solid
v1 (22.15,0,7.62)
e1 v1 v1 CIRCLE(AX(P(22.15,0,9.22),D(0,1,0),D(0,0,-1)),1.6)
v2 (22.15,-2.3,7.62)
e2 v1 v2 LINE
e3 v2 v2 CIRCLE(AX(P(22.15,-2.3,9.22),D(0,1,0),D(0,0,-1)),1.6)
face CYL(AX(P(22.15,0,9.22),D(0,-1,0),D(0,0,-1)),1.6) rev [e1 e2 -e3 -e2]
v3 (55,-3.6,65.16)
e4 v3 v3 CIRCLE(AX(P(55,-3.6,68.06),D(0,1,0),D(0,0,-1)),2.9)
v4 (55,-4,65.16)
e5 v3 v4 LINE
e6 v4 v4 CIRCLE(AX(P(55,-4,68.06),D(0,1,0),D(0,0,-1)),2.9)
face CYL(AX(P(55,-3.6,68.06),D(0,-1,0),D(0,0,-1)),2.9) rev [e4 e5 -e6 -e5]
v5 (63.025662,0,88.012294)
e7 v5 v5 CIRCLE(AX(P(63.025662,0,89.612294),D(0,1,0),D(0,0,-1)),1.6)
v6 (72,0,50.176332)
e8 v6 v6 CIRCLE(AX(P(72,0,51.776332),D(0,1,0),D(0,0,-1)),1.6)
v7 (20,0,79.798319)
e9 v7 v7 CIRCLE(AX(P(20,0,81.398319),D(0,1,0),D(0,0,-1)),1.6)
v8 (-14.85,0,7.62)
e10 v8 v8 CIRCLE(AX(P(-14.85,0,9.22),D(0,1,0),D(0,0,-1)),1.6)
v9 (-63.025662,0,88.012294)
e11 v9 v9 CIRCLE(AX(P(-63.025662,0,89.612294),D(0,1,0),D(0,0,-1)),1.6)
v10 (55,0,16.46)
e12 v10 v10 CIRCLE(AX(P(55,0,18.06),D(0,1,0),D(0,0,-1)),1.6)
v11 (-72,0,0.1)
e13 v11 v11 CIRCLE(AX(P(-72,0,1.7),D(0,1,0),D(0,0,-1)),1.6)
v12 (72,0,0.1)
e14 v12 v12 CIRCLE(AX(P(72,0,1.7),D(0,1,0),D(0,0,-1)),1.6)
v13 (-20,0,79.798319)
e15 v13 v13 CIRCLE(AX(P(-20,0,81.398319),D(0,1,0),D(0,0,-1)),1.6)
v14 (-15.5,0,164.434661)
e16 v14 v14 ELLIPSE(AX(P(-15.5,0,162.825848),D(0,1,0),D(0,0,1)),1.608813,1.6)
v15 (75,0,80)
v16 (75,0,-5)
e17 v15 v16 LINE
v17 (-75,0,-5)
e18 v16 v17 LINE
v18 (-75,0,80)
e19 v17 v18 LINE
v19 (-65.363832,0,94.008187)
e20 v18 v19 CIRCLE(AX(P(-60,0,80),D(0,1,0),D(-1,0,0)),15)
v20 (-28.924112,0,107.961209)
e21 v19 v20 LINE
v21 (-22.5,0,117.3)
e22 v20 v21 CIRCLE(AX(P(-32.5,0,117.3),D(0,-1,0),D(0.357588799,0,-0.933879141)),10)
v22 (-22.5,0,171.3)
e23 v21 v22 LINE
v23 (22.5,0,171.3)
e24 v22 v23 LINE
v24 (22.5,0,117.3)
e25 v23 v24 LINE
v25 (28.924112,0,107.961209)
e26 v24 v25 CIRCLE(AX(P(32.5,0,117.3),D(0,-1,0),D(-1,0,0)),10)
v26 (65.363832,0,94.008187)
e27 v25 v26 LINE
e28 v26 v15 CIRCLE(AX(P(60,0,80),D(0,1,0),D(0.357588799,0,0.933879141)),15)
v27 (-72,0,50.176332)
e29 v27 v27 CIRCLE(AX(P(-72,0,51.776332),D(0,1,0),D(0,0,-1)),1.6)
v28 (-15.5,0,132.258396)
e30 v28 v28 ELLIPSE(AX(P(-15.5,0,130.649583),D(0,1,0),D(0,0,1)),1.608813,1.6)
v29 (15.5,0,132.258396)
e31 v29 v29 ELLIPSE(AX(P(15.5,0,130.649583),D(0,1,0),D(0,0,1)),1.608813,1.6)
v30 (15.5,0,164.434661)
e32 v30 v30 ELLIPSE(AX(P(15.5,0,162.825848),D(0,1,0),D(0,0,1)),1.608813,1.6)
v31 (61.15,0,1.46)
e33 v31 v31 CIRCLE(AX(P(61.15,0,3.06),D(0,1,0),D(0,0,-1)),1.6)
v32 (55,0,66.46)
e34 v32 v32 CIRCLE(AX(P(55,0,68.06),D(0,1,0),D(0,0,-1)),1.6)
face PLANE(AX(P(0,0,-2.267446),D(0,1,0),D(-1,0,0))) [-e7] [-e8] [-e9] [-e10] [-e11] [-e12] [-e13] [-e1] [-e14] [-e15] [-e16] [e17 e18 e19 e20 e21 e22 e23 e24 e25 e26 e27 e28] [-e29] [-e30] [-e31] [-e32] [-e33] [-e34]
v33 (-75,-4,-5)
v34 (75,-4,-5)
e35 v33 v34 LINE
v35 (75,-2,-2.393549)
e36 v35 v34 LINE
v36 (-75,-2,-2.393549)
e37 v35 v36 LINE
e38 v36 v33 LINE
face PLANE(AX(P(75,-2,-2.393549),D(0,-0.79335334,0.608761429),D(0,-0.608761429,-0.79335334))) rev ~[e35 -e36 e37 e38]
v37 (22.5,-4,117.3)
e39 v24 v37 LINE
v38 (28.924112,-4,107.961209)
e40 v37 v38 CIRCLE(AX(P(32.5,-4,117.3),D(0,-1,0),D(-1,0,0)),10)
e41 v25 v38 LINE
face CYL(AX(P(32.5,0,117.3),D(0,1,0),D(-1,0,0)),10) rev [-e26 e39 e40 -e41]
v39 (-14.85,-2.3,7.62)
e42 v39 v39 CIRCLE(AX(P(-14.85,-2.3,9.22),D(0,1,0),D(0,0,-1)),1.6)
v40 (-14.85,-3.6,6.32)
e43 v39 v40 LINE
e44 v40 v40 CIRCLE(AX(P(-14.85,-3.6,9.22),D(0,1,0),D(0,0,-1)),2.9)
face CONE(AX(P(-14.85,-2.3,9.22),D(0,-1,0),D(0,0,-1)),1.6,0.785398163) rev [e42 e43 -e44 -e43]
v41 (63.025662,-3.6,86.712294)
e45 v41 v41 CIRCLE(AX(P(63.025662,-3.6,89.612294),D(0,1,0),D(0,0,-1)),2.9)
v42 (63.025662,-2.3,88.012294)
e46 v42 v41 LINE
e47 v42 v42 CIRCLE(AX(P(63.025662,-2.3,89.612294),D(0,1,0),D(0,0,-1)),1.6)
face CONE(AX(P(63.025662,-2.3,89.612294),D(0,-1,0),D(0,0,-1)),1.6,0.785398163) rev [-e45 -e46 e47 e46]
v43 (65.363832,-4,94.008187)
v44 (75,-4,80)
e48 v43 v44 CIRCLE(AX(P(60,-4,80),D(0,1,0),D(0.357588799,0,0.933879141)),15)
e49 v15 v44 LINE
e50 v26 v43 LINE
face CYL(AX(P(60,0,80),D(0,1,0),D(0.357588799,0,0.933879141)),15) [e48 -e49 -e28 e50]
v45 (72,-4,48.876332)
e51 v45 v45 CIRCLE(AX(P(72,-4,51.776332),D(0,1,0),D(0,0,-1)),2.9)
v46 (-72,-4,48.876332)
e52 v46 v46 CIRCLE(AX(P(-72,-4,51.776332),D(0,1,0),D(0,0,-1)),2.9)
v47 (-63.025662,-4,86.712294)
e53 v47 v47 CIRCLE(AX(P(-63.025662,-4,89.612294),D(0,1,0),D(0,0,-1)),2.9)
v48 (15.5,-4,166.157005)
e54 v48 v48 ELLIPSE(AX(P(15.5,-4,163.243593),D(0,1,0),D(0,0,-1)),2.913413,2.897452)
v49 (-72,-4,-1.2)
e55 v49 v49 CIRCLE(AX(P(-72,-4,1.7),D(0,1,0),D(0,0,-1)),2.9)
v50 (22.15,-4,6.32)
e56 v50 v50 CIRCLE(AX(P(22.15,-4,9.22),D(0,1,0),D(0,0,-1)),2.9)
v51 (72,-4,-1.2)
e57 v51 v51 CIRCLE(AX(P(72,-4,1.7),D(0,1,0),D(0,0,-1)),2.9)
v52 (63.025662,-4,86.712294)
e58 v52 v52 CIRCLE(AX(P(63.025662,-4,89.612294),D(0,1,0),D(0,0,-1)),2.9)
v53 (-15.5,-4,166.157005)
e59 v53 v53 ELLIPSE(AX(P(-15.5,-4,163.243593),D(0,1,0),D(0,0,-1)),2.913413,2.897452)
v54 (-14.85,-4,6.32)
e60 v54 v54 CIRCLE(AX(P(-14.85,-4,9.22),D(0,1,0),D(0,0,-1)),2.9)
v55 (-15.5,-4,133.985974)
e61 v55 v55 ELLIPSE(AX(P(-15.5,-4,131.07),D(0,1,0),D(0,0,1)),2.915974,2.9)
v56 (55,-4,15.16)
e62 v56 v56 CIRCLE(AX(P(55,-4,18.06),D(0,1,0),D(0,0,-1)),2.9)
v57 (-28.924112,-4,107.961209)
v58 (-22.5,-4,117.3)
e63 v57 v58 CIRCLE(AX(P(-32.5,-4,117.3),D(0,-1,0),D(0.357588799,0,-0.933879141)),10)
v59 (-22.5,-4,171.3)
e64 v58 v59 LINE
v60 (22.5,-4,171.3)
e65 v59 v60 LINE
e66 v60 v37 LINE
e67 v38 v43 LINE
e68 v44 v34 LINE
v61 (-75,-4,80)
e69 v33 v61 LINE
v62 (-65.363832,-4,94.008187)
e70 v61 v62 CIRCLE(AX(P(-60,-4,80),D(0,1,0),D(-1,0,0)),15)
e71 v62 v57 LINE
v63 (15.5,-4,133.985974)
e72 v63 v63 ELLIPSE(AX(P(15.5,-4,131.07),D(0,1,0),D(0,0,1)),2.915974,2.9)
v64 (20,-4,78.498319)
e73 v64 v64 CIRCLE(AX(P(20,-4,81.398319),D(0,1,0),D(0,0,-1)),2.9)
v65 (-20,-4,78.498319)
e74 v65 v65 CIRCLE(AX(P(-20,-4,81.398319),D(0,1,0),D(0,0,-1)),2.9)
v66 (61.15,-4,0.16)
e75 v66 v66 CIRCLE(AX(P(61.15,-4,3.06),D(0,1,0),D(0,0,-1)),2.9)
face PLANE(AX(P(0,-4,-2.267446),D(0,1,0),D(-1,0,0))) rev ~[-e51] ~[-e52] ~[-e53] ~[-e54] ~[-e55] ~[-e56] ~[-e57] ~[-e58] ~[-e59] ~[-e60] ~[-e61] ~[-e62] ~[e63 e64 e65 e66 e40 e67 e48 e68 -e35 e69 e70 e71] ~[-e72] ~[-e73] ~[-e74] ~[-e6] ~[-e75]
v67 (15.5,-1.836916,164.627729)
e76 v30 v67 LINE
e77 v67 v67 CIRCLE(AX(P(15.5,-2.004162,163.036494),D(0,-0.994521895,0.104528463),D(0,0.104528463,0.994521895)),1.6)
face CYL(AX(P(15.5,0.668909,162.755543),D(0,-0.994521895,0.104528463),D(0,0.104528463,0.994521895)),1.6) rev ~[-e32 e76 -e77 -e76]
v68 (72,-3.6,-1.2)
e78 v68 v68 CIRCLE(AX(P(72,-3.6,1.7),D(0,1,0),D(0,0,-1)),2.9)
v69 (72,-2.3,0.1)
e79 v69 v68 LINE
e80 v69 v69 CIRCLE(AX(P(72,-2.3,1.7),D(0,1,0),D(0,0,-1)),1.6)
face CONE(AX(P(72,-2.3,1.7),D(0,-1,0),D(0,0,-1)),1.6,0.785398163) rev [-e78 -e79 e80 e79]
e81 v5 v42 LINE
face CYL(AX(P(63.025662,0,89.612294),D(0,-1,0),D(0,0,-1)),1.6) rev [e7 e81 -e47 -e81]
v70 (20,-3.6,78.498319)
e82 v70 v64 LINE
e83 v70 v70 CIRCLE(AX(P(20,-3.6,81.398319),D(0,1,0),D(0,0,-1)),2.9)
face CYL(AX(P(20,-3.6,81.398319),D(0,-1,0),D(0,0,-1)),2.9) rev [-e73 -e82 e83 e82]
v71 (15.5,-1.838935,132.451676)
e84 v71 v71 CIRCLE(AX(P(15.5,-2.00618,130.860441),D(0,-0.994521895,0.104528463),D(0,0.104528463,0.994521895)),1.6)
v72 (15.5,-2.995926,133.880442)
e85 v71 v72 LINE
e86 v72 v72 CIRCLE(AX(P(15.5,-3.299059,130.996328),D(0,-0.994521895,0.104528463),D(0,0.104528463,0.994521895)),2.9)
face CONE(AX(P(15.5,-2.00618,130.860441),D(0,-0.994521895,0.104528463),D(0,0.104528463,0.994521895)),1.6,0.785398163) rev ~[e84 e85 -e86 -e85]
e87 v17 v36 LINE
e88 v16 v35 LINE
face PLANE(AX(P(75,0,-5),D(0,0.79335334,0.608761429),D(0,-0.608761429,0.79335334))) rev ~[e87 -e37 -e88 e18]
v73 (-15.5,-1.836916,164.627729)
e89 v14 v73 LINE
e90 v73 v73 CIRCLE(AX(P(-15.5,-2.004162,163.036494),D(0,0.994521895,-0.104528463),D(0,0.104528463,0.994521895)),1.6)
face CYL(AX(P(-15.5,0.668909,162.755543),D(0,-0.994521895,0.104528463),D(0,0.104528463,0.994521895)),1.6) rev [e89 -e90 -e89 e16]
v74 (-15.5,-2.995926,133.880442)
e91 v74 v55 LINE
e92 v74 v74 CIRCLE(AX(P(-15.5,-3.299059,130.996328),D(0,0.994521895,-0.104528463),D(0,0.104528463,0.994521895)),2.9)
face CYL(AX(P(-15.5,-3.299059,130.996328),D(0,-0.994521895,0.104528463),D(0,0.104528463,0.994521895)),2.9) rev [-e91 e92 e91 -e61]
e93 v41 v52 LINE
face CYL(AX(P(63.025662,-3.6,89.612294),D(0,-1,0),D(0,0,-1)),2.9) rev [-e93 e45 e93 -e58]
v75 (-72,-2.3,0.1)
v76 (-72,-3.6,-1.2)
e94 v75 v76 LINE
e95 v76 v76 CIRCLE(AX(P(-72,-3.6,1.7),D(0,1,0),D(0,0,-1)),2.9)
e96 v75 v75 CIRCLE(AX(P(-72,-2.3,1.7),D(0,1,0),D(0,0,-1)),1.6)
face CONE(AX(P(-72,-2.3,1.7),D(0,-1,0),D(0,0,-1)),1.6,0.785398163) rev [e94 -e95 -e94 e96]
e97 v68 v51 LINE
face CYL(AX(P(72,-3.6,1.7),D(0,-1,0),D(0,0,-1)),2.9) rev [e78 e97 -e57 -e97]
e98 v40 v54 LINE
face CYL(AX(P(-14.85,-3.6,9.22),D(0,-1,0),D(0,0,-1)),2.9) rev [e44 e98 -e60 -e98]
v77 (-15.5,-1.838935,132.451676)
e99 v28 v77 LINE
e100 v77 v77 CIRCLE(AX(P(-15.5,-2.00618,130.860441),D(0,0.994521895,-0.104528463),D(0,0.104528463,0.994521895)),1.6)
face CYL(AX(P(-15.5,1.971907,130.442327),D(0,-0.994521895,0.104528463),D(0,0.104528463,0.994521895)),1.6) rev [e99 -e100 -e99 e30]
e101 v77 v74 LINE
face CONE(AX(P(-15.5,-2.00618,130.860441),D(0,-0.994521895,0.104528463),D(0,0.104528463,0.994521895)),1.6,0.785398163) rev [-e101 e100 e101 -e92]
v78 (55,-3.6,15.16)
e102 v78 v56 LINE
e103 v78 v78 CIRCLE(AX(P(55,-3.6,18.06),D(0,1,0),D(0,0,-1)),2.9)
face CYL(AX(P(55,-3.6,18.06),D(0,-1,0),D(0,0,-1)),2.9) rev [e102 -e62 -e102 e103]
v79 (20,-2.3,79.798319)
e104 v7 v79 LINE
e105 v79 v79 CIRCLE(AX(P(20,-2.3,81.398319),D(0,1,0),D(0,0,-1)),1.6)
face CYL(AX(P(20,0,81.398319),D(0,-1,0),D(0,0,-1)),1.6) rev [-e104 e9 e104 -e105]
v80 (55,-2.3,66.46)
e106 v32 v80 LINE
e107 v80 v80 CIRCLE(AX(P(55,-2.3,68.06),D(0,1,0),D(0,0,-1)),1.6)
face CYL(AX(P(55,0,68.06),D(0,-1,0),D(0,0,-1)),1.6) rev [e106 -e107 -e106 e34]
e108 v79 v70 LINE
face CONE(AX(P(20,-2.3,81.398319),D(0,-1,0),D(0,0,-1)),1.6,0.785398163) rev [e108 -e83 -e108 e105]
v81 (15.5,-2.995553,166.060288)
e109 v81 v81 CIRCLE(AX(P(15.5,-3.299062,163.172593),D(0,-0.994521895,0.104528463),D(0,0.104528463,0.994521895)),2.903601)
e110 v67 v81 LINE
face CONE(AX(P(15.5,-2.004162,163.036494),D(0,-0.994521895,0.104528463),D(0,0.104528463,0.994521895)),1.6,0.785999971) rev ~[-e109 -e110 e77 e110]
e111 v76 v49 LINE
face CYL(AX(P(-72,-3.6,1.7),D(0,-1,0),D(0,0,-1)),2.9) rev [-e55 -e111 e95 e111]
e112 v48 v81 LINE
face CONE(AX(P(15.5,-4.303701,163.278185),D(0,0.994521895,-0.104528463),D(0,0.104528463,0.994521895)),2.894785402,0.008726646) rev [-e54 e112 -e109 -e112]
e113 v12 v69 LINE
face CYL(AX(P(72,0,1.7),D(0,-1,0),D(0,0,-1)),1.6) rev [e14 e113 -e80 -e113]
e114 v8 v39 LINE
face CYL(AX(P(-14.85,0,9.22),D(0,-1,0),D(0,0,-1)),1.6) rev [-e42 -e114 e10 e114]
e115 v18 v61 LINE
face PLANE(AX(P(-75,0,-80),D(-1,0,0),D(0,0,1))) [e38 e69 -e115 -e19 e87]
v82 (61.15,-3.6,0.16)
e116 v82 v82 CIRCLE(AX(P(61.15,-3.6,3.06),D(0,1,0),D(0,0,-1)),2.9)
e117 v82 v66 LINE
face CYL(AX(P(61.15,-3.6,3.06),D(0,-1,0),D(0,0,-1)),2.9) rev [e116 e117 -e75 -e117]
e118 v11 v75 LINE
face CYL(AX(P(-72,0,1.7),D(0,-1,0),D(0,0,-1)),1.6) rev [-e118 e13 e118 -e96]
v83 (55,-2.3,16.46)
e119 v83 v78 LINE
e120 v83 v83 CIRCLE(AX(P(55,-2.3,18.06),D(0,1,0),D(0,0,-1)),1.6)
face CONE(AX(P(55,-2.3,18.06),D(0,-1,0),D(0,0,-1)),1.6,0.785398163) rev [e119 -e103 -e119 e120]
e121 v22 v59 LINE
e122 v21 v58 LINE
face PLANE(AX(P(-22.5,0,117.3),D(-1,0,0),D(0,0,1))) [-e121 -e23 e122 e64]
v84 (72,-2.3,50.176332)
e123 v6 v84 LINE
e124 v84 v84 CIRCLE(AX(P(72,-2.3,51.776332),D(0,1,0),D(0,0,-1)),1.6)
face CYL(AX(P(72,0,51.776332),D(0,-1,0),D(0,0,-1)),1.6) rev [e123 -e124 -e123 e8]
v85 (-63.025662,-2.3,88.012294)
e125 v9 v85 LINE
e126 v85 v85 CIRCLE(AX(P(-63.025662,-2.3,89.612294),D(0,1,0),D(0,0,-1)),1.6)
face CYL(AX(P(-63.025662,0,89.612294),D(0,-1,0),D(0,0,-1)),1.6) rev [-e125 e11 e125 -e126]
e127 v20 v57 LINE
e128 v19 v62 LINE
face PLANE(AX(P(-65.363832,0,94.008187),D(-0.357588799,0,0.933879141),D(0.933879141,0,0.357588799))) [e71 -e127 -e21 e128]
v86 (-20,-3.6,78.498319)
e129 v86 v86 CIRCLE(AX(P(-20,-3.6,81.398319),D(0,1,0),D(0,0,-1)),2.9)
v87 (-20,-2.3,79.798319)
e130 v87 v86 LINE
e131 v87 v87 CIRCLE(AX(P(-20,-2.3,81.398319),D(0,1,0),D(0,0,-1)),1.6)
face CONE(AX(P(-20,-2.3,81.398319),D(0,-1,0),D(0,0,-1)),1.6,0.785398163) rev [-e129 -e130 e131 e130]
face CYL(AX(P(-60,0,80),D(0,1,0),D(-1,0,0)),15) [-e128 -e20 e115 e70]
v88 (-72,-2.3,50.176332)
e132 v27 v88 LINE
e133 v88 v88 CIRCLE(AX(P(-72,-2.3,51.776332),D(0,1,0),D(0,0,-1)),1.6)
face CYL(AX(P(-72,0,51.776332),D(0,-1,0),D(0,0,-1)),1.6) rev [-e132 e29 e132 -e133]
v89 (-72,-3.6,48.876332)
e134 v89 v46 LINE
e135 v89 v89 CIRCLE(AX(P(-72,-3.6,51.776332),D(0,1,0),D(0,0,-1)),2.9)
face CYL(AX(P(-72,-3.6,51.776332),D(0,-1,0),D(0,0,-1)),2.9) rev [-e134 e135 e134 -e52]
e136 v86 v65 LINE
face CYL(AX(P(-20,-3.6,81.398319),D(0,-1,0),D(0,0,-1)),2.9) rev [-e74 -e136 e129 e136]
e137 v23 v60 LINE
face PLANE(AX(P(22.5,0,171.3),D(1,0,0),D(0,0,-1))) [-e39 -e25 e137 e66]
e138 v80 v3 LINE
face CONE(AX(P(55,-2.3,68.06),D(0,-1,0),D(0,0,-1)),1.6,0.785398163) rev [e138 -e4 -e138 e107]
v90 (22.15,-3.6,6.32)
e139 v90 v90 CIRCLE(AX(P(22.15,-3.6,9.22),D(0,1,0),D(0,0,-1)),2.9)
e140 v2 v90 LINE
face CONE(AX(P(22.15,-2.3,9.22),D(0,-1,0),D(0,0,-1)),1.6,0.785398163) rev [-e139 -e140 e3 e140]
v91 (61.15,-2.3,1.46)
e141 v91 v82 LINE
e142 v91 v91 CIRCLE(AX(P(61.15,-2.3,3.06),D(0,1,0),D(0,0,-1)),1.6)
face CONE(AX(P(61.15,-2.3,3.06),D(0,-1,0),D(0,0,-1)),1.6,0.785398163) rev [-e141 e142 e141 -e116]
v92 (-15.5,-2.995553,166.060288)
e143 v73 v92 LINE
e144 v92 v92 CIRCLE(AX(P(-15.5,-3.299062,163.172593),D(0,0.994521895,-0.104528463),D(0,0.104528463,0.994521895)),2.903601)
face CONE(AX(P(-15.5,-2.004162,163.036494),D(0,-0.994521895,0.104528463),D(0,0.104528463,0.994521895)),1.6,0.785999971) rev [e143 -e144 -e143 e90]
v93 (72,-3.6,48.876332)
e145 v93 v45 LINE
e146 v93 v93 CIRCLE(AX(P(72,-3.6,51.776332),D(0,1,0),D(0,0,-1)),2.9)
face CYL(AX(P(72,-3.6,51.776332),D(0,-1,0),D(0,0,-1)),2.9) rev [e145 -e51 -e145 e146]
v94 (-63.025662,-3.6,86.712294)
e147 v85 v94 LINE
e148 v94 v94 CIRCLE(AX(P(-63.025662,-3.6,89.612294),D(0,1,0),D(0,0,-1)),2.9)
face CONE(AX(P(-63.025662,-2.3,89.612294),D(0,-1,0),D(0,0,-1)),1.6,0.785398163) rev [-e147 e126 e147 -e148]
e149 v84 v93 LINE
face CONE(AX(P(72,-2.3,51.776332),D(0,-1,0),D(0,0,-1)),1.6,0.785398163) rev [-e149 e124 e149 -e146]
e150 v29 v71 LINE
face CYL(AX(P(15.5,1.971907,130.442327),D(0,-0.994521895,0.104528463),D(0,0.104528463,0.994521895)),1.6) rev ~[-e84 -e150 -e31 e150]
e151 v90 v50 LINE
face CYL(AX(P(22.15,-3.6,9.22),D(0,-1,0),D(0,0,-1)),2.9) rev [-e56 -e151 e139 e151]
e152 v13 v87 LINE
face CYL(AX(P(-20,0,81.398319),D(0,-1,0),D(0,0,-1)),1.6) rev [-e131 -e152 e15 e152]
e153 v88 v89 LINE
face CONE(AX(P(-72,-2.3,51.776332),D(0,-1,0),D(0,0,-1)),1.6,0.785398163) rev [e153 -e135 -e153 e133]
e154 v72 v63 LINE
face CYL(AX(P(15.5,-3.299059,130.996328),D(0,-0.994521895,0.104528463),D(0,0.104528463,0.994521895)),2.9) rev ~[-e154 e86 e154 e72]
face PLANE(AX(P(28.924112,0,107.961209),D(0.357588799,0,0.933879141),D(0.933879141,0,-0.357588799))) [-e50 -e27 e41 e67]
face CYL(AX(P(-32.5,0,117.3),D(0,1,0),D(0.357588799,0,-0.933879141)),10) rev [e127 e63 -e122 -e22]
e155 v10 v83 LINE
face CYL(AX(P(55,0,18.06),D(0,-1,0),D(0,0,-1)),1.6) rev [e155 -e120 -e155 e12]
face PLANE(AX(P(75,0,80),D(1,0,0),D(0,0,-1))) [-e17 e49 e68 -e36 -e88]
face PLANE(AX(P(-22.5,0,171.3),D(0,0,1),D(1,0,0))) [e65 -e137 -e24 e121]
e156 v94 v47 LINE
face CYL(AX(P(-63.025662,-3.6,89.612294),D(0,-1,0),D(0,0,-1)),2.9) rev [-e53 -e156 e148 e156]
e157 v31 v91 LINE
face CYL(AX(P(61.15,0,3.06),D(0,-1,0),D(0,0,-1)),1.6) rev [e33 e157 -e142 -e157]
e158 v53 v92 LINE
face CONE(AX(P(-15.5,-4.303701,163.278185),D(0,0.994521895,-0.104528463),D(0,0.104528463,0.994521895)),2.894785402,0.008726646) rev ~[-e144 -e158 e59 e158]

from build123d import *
from build123d.topology import SkipClean

# Parameters (mm, degrees)
BOSS_EXTRU_1_DEPTH                          = 4
FRAISAGE_POUR_VIS_T_TE_FRAIS_E_M31_AT_COUNT = 2
FRAISAGE_POUR_VIS_T_TE_FRAIS_E_M31_AT_PITCH = 37
FRAISAGE_POUR_VIS_T_TE_FRAIS_E_M31_2_COUNT  = 2
FRAISAGE_POUR_VIS_T_TE_FRAIS_E_M31_2_PITCH  = 76.24923343876974
FRAISAGE_POUR_VIS_T_TE_FRAIS_E_M31_3_COUNT  = 2
FRAISAGE_POUR_VIS_T_TE_FRAIS_E_M31_3_PITCH  = 84.16380219548068
FRAISAGE_POUR_VIS_T_TE_FRAIS_E_M31_4_COUNT  = 2
FRAISAGE_POUR_VIS_T_TE_FRAIS_E_M31_4_PITCH  = 48.91829923454004
FRAISAGE_POUR_VIS_T_TE_FRAIS_E_M31_5_COUNT  = 2
FRAISAGE_POUR_VIS_T_TE_FRAIS_E_M31_5_PITCH  = 32
FRAISAGE_POUR_VIS_T_TE_FRAIS_E_M31_6_COUNT  = 2
FRAISAGE_POUR_VIS_T_TE_FRAIS_E_M31_6_PITCH  = 146.22144473366413
FRAISAGE_POUR_VIS_T_TE_FRAIS_E_M31_7_COUNT  = 2
FRAISAGE_POUR_VIS_T_TE_FRAIS_E_M31_7_PITCH  = 149.33656919857233
FRAISAGE_POUR_VIS_T_TE_FRAIS_E_M31_8_COUNT  = 2
FRAISAGE_POUR_VIS_T_TE_FRAIS_E_M31_8_PITCH  = 178.221185328793
FRAISAGE_POUR_VIS_T_TE_FRAIS_E_M31_9_COUNT  = 2
FRAISAGE_POUR_VIS_T_TE_FRAIS_E_M31_9_PITCH  = 180.7857596714962
FRAISAGE_POUR_VIS_T_TE_FRAIS_E_M31_10_COUNT = 2
FRAISAGE_POUR_VIS_T_TE_FRAIS_E_M31_10_PITCH = 93.72201084432365
FRAISAGE_POUR_VIS_T_TE_FRAIS_E_M31_11_COUNT = 2
FRAISAGE_POUR_VIS_T_TE_FRAIS_E_M31_11_PITCH = 71.25422011407208
FRAISAGE_POUR_VIS_T_TE_FRAIS_E_M31_12_COUNT = 2
FRAISAGE_POUR_VIS_T_TE_FRAIS_E_M31_12_PITCH = 81.13852320176049
FRAISAGE_POUR_VIS_T_TE_FRAIS_E_M31_13_COUNT = 2
FRAISAGE_POUR_VIS_T_TE_FRAIS_E_M31_13_PITCH = 110.20788746644998
FRAISAGE_POUR_VIS_T_TE_FRAIS_E_M31_14_COUNT = 2
FRAISAGE_POUR_VIS_T_TE_FRAIS_E_M31_14_PITCH = 120.18099085718585
FRAISAGE_POUR_VIS_T_TE_FRAIS_E_M31_15_COUNT = 2
FRAISAGE_POUR_VIS_T_TE_FRAIS_E_M31_15_PITCH = 126.59408322917878
FRAISAGE_POUR_VIS_T_TE_FRAIS_E_M31_16_COUNT = 2
FRAISAGE_POUR_VIS_T_TE_FRAIS_E_M31_16_PITCH = 126.7178805041533
FRAISAGE_POUR_VIS_T_TE_FRAIS_E_M31_17_COUNT = 2
FRAISAGE_POUR_VIS_T_TE_FRAIS_E_M31_17_PITCH = 104.21257096609138
FRAISAGE_POUR_VIS_T_TE_FRAIS_E_M31_18_COUNT = 2
FRAISAGE_POUR_VIS_T_TE_FRAIS_E_M31_18_PITCH = 111.92649207746531
FRAISAGE_POUR_VIS_T_TE_FRAIS_E_M31_19_COUNT = 2
FRAISAGE_POUR_VIS_T_TE_FRAIS_E_M31_19_PITCH = 96.71589261369941
FRAISAGE_POUR_VIS_T_TE_FRAIS_E_M31_20_COUNT = 2
FRAISAGE_POUR_VIS_T_TE_FRAIS_E_M31_20_PITCH = 72.36181435608123
FRAISAGE_POUR_VIS_T_TE_FRAIS_E_M31_21_COUNT = 2
FRAISAGE_POUR_VIS_T_TE_FRAIS_E_M31_21_PITCH = 80.15130801742393
FRAISAGE_POUR_VIS_T_TE_FRAIS_E_M31_22_COUNT = 2
FRAISAGE_POUR_VIS_T_TE_FRAIS_E_M31_22_PITCH = 87.17495569256108
FRAISAGE_POUR_VIS_T_TE_FRAIS_E_M31_23_COUNT = 2
FRAISAGE_POUR_VIS_T_TE_FRAIS_E_M31_23_PITCH = 57.64263092538352
FRAISAGE_POUR_VIS_T_TE_FRAIS_E_M31_24_COUNT = 2
FRAISAGE_POUR_VIS_T_TE_FRAIS_E_M31_24_PITCH = 91.32999562027801
FRAISAGE_POUR_VIS_T_TE_FRAIS_E_M31_25_COUNT = 2
FRAISAGE_POUR_VIS_T_TE_FRAIS_E_M31_25_PITCH = 70.40715943709135
ENL_V_MAT_EXTRU_1_REACH                     = 195.197
ENL_V_MAT_EXTRU_1_DIRECTION_2_REACH         = 195.197
ENL_V_MAT_EXTRU_2_REACH                     = 229.727


with BuildPart() as part:
    # Esquisse1 → Boss.-Extru.1 (new body)
    with BuildSketch(Plane.XZ):
        with BuildLine():
            Line((22.499999999999876, 171.3), (22.499999999999876, 117.30000000000001))
            ThreePointArc((22.499999999999876, 117.30000000000001), (24.261102018221273, 111.63249966512188), (28.924112009168745, 107.96120858584864))
            Line((28.924112009168745, 107.96120858584864), (65.36383198624648, 94.00818712122728))
            ThreePointArc((65.36383198624648, 94.00818712122728), (72.35834697266782, 88.50125050231733), (75, 80))
            Line((75, 80), (75, -80))
            ThreePointArc((75, -80), (72.93707319873252, -87.59158330327982), (67.31571505991508, -93.09504918517422))
            Line((67.31571505991508, -93.09504918517422), (27.62285662672306, -115.269967209884))
            ThreePointArc((27.62285662672306, -115.269967209884), (23.875284534178178, -118.9389444644802), (22.499999999999876, -124))
            Line((22.499999999999876, -124), (22.499999999999876, -178))
            Line((22.499999999999876, -178), (-22.499999999999876, -178))
            Line((-22.499999999999876, -178), (-22.499999999999876, -123.99999999999999))
            ThreePointArc((-22.499999999999876, -123.99999999999999), (-23.875284534178174, -118.9389444644802), (-27.62285662672306, -115.269967209884))
            Line((-27.62285662672306, -115.269967209884), (-67.31571505991508, -93.09504918517422))
            ThreePointArc((-67.31571505991508, -93.09504918517422), (-72.93707319873253, -87.59158330327982), (-75.00000000000001, -80))
            Line((-75.00000000000001, -80), (-75.00000000000001, 80))
            ThreePointArc((-75.00000000000001, 80), (-72.35834697266783, 88.50125050231735), (-65.36383198624651, 94.0081871212273))
            Line((-65.36383198624651, 94.0081871212273), (-28.92411200916875, 107.96120858584864))
            ThreePointArc((-28.92411200916875, 107.96120858584864), (-24.261102018221276, 111.63249966512188), (-22.499999999999876, 117.30000000000001))
            Line((-22.499999999999876, 117.30000000000001), (-22.499999999999876, 171.3))
            Line((-22.499999999999876, 171.3), (22.499999999999876, 171.3))
        make_face()
    extrude(amount=BOSS_EXTRU_1_DEPTH)

    # Esquisse2 → Fraisage pour vis à tête fraisée M31 (revolve, cut)
    with BuildSketch(Plane(origin=(-14.85000000000002, -4, 9.219999999999999), x_dir=(0, 0, -1), z_dir=(1, 0, 0))):
        Polygon((0, 0), (-9.8e-16, 4), (1.599999999999999, 4), (1.5999999999999996, 1.6999999999999948), (2.899999999999998, 0.3999999999999993), (2.9, -3.47e-15), align=None)
    fraisage_pour_vis_t_te_frais_e_m31 = revolve(axis=Axis((-14.85000000000002, -10.34999999999999, 9.219999999999999), (0, 1, 0)), mode=Mode.SUBTRACT)

    # Fraisage pour vis à tête fraisée M31 at: Fraisage pour vis à tête fraisée M31 ×2
    with Locations(*[(i * FRAISAGE_POUR_VIS_T_TE_FRAIS_E_M31_AT_PITCH, 0, 0) for i in range(1, FRAISAGE_POUR_VIS_T_TE_FRAIS_E_M31_AT_COUNT)]):
        add(fraisage_pour_vis_t_te_frais_e_m31, mode=Mode.SUBTRACT)

    # Fraisage pour vis _ t_te frais_e M31 2: Fraisage pour vis à tête fraisée M31 ×2
    with Locations(*[Vector(0.9967313318766692, 0, -0.08078769742579317) * (i * FRAISAGE_POUR_VIS_T_TE_FRAIS_E_M31_2_PITCH) for i in range(1, FRAISAGE_POUR_VIS_T_TE_FRAIS_E_M31_2_COUNT)]):
        add(fraisage_pour_vis_t_te_frais_e_m31, mode=Mode.SUBTRACT)

    # Fraisage pour vis _ t_te frais_e M31 3: Fraisage pour vis à tête fraisée M31 ×2
    with Locations(*[Vector(0.903001029153611, 0, -0.429638384397297) * (i * FRAISAGE_POUR_VIS_T_TE_FRAIS_E_M31_3_PITCH) for i in range(1, FRAISAGE_POUR_VIS_T_TE_FRAIS_E_M31_3_COUNT)]):
        add(fraisage_pour_vis_t_te_frais_e_m31, mode=Mode.SUBTRACT)

    # Fraisage pour vis _ t_te frais_e M31 4: Fraisage pour vis à tête fraisée M31 ×2
    with Locations(*[Vector(0.7563631724521444, 0, -0.6541519329315842) * (i * FRAISAGE_POUR_VIS_T_TE_FRAIS_E_M31_4_PITCH) for i in range(1, FRAISAGE_POUR_VIS_T_TE_FRAIS_E_M31_4_COUNT)]):
        add(fraisage_pour_vis_t_te_frais_e_m31, mode=Mode.SUBTRACT)

    # Fraisage pour vis _ t_te frais_e M31 5: Fraisage pour vis à tête fraisée M31 ×2
    with Locations(*[(0, 0, -i * FRAISAGE_POUR_VIS_T_TE_FRAIS_E_M31_5_PITCH) for i in range(1, FRAISAGE_POUR_VIS_T_TE_FRAIS_E_M31_5_COUNT)]):
        add(fraisage_pour_vis_t_te_frais_e_m31, mode=Mode.SUBTRACT)

    # Fraisage pour vis _ t_te frais_e M31 6: Fraisage pour vis à tête fraisée M31 ×2
    with Locations(*[Vector(-0.004445312390285126, 0, -0.9999901195500648) * (i * FRAISAGE_POUR_VIS_T_TE_FRAIS_E_M31_6_PITCH) for i in range(1, FRAISAGE_POUR_VIS_T_TE_FRAIS_E_M31_6_COUNT)]):
        add(fraisage_pour_vis_t_te_frais_e_m31, mode=Mode.SUBTRACT)

    # Fraisage pour vis _ t_te frais_e M31 7: Fraisage pour vis à tête fraisée M31 ×2
    with Locations(*[Vector(0.2032322033569929, 0, -0.9791305691881251) * (i * FRAISAGE_POUR_VIS_T_TE_FRAIS_E_M31_7_PITCH) for i in range(1, FRAISAGE_POUR_VIS_T_TE_FRAIS_E_M31_7_COUNT)]):
        add(fraisage_pour_vis_t_te_frais_e_m31, mode=Mode.SUBTRACT)

    # Fraisage pour vis _ t_te frais_e M31 8: Fraisage pour vis à tête fraisée M31 ×2
    with Locations(*[Vector(-0.003647153388643399, 0, -0.9999933491139628) * (i * FRAISAGE_POUR_VIS_T_TE_FRAIS_E_M31_8_PITCH) for i in range(1, FRAISAGE_POUR_VIS_T_TE_FRAIS_E_M31_8_COUNT)]):
        add(fraisage_pour_vis_t_te_frais_e_m31, mode=Mode.SUBTRACT)

    # Fraisage pour vis _ t_te frais_e M31 9: Fraisage pour vis à tête fraisée M31 ×2
    with Locations(*[Vector(0.16787826682338555, 0, -0.9858077335507042) * (i * FRAISAGE_POUR_VIS_T_TE_FRAIS_E_M31_9_PITCH) for i in range(1, FRAISAGE_POUR_VIS_T_TE_FRAIS_E_M31_9_COUNT)]):
        add(fraisage_pour_vis_t_te_frais_e_m31, mode=Mode.SUBTRACT)

    # Fraisage pour vis _ t_te frais_e M31 10: Fraisage pour vis à tête fraisée M31 ×2
    with Locations(*[Vector(-0.5140271894002647, 0, 0.8577738912774534) * (i * FRAISAGE_POUR_VIS_T_TE_FRAIS_E_M31_10_PITCH) for i in range(1, FRAISAGE_POUR_VIS_T_TE_FRAIS_E_M31_10_COUNT)]):
        add(fraisage_pour_vis_t_te_frais_e_m31, mode=Mode.SUBTRACT)

    # Fraisage pour vis _ t_te frais_e M31 11: Fraisage pour vis à tête fraisée M31 ×2
    with Locations(*[Vector(-0.8020577575406399, 0, 0.5972464763972075) * (i * FRAISAGE_POUR_VIS_T_TE_FRAIS_E_M31_11_PITCH) for i in range(1, FRAISAGE_POUR_VIS_T_TE_FRAIS_E_M31_11_COUNT)]):
        add(fraisage_pour_vis_t_te_frais_e_m31, mode=Mode.SUBTRACT)

    # Fraisage pour vis _ t_te frais_e M31 12: Fraisage pour vis à tête fraisée M31 ×2
    with Locations(*[Vector(-0.7043510005461847, 0, -0.7098518634402452) * (i * FRAISAGE_POUR_VIS_T_TE_FRAIS_E_M31_12_PITCH) for i in range(1, FRAISAGE_POUR_VIS_T_TE_FRAIS_E_M31_12_COUNT)]):
        add(fraisage_pour_vis_t_te_frais_e_m31, mode=Mode.SUBTRACT)

    # Fraisage pour vis _ t_te frais_e M31 13: Fraisage pour vis à tête fraisée M31 ×2
    with Locations(*[Vector(-0.4627851347160459, 0, -0.8864704840466214) * (i * FRAISAGE_POUR_VIS_T_TE_FRAIS_E_M31_13_PITCH) for i in range(1, FRAISAGE_POUR_VIS_T_TE_FRAIS_E_M31_13_COUNT)]):
        add(fraisage_pour_vis_t_te_frais_e_m31, mode=Mode.SUBTRACT)

    # Fraisage pour vis _ t_te frais_e M31 14: Fraisage pour vis à tête fraisée M31 ×2
    with Locations(*[Vector(-0.09812659935351496, 0, -0.9951739398212329) * (i * FRAISAGE_POUR_VIS_T_TE_FRAIS_E_M31_14_PITCH) for i in range(1, FRAISAGE_POUR_VIS_T_TE_FRAIS_E_M31_14_COUNT)]):
        add(fraisage_pour_vis_t_te_frais_e_m31, mode=Mode.SUBTRACT)

    # Fraisage pour vis _ t_te frais_e M31 15: Fraisage pour vis à tête fraisée M31 ×2
    with Locations(*[Vector(0.32776375389231355, 0, -0.9447597163482464) * (i * FRAISAGE_POUR_VIS_T_TE_FRAIS_E_M31_15_PITCH) for i in range(1, FRAISAGE_POUR_VIS_T_TE_FRAIS_E_M31_15_COUNT)]):
        add(fraisage_pour_vis_t_te_frais_e_m31, mode=Mode.SUBTRACT)

    # Fraisage pour vis _ t_te frais_e M31 16: Fraisage pour vis à tête fraisée M31 ×2
    with Locations(*[Vector(0.6368680704479339, 0, -0.770972801623978) * (i * FRAISAGE_POUR_VIS_T_TE_FRAIS_E_M31_16_PITCH) for i in range(1, FRAISAGE_POUR_VIS_T_TE_FRAIS_E_M31_16_COUNT)]):
        add(fraisage_pour_vis_t_te_frais_e_m31, mode=Mode.SUBTRACT)

    # Fraisage pour vis _ t_te frais_e M31 17: Fraisage pour vis à tête fraisée M31 ×2
    with Locations(*[Vector(0.8333927394254491, 0, -0.5526812298902014) * (i * FRAISAGE_POUR_VIS_T_TE_FRAIS_E_M31_17_PITCH) for i in range(1, FRAISAGE_POUR_VIS_T_TE_FRAIS_E_M31_17_COUNT)]):
        add(fraisage_pour_vis_t_te_frais_e_m31, mode=Mode.SUBTRACT)

    # Fraisage pour vis _ t_te frais_e M31 18: Fraisage pour vis à tête fraisée M31 ×2
    with Locations(*[Vector(0.6957750607010041, 0, 0.7182597475193178) * (i * FRAISAGE_POUR_VIS_T_TE_FRAIS_E_M31_18_PITCH) for i in range(1, FRAISAGE_POUR_VIS_T_TE_FRAIS_E_M31_18_COUNT)]):
        add(fraisage_pour_vis_t_te_frais_e_m31, mode=Mode.SUBTRACT)

    # Fraisage pour vis _ t_te frais_e M31 19: Fraisage pour vis à tête fraisée M31 ×2
    with Locations(*[Vector(0.8979909883776221, 0, 0.4400138461373474) * (i * FRAISAGE_POUR_VIS_T_TE_FRAIS_E_M31_19_PITCH) for i in range(1, FRAISAGE_POUR_VIS_T_TE_FRAIS_E_M31_19_COUNT)]):
        add(fraisage_pour_vis_t_te_frais_e_m31, mode=Mode.SUBTRACT)

    # Fraisage pour vis _ t_te frais_e M31 20: Fraisage pour vis à tête fraisée M31 ×2
    with Locations(*[Vector(-0.07117013366549435, 0, 0.9974641908730537) * (i * FRAISAGE_POUR_VIS_T_TE_FRAIS_E_M31_20_PITCH) for i in range(1, FRAISAGE_POUR_VIS_T_TE_FRAIS_E_M31_20_COUNT)]):
        add(fraisage_pour_vis_t_te_frais_e_m31, mode=Mode.SUBTRACT)

    # Fraisage pour vis _ t_te frais_e M31 21: Fraisage pour vis à tête fraisée M31 ×2
    with Locations(*[Vector(0.43480263593981594, 0, 0.9005257729680967) * (i * FRAISAGE_POUR_VIS_T_TE_FRAIS_E_M31_21_PITCH) for i in range(1, FRAISAGE_POUR_VIS_T_TE_FRAIS_E_M31_21_COUNT)]):
        add(fraisage_pour_vis_t_te_frais_e_m31, mode=Mode.SUBTRACT)

    # Fraisage pour vis _ t_te frais_e M31 22: Fraisage pour vis à tête fraisée M31 ×2
    with Locations(*[Vector(0.9962723732982764, 0, -0.08626330739439464) * (i * FRAISAGE_POUR_VIS_T_TE_FRAIS_E_M31_22_PITCH) for i in range(1, FRAISAGE_POUR_VIS_T_TE_FRAIS_E_M31_22_COUNT)]):
        add(fraisage_pour_vis_t_te_frais_e_m31, mode=Mode.SUBTRACT)

    # Fraisage pour vis _ t_te frais_e M31 23: Fraisage pour vis à tête fraisée M31 ×2
    with Locations(*[Vector(-0.9914537050534457, 0, -0.1304590002100094) * (i * FRAISAGE_POUR_VIS_T_TE_FRAIS_E_M31_23_PITCH) for i in range(1, FRAISAGE_POUR_VIS_T_TE_FRAIS_E_M31_23_COUNT)]):
        add(fraisage_pour_vis_t_te_frais_e_m31, mode=Mode.SUBTRACT)

    # Fraisage pour vis _ t_te frais_e M31 24: Fraisage pour vis à tête fraisée M31 ×2
    with Locations(*[Vector(0.7648089713089968, 0, 0.6442571205700983) * (i * FRAISAGE_POUR_VIS_T_TE_FRAIS_E_M31_24_PITCH) for i in range(1, FRAISAGE_POUR_VIS_T_TE_FRAIS_E_M31_24_COUNT)]):
        add(fraisage_pour_vis_t_te_frais_e_m31, mode=Mode.SUBTRACT)

    # Fraisage pour vis _ t_te frais_e M31 25: Fraisage pour vis à tête fraisée M31 ×2
    with Locations(*[Vector(0.9920866082150472, 0, 0.12555541326586997) * (i * FRAISAGE_POUR_VIS_T_TE_FRAIS_E_M31_25_PITCH) for i in range(1, FRAISAGE_POUR_VIS_T_TE_FRAIS_E_M31_25_COUNT)]):
        add(fraisage_pour_vis_t_te_frais_e_m31, mode=Mode.SUBTRACT)

    # Esquisse4 → Enlèvement de matière-Révolution1 (revolve, cut)
    with BuildSketch(Plane(origin=(15.500000000000005, 1.9e-16, 1.67e-15), x_dir=(1.1e-16, 0, -1), z_dir=(1, 1e-17, 1.1e-16)), mode=Mode.PRIVATE) as enl_vement_de_mati_re_r_volution1_sk:
        Polygon((-130.4423272452082, 1.971907347075363), (-128.85109221261894, 1.8046618058471149), (-129.26920606568953, -2.173425775625958), (-128.11221460395873, -3.602191241852692), (-128.2177470175982, -4.606265086952411), (-131.1018605141662, -4.30313254347621), align=None)
    enl_vement_de_mati_re_r_volution1 = revolve(enl_vement_de_mati_re_r_volution1_sk.sketch.rotate(Axis((15.499999999999991, 1.971907347075363, 130.4423272452082), (0, -0.9945218953682737, 0.10452846326764959)), 180), axis=Axis((15.499999999999991, 1.971907347075363, 130.4423272452082), (0, -0.9945218953682737, 0.10452846326764959)), mode=Mode.SUBTRACT)

    # Esquisse5 → Enlèvement de matière-Révolution2 (revolve, cut)
    with SkipClean():  # the faces are left unmerged after this step: merging them gives an invalid solid
        with BuildSketch(Plane(origin=(15.500000000000005, 1.9e-16, 1.67e-15), x_dir=(1.1e-16, 0, -1), z_dir=(1, 1e-17, 1.1e-16)), mode=Mode.PRIVATE) as enl_vement_de_mati_re_r_volution2_sk:
            Polygon((-162.75554285983117, 0.6689087738567335), (-161.1643078272419, 0.5016632326284988), (-161.44525888924028, -2.1714075650249045), (-160.28489861420792, -3.6025712577293647), (-160.33017989971506, -4), (-160.39925771146042, -4.606288172548205), (-163.2781851761694, -4.303700702984637), align=None)
        enl_vement_de_mati_re_r_volution2 = revolve(enl_vement_de_mati_re_r_volution2_sk.sketch.rotate(Axis((15.499999999999988, 0.6689087738567338, 162.75554285983117), (0, -0.9945218953682743, 0.10452846326764464)), 180), axis=Axis((15.499999999999988, 0.6689087738567338, 162.75554285983117), (0, -0.9945218953682743, 0.10452846326764464)), mode=Mode.SUBTRACT)

    # Symétrie1: Enlèvement de matière-Révolution1, Enlèvement de matière-Révolution2 across plane
    with SkipClean():  # the faces are left unmerged after this step: merging them gives an invalid solid
        add(enl_vement_de_mati_re_r_volution1.mirror(Plane(origin=(0, 0, 0), x_dir=(0, 0, 1), z_dir=(1, 0, 0))), mode=Mode.SUBTRACT)
        add(enl_vement_de_mati_re_r_volution2.mirror(Plane(origin=(0, 0, 0), x_dir=(0, 0, 1), z_dir=(1, 0, 0))), mode=Mode.SUBTRACT)

    # Esquisse7 → Enlèv. mat.-Extru.1 (cut, up to next)
    with BuildSketch(Plane(origin=(0, 0, 0), x_dir=(0, 0, -1), z_dir=(1, 0, 0)), mode=Mode.PRIVATE) as enl_v_mat_extru_1_sk1:
        Polygon((5, 1.45e-15), (178, 0), (178, -4.0000000000000036), (5.000000000000001, -4), align=None)
    enl_v_mat_extru_1_tool1 = extrude(enl_v_mat_extru_1_sk1.sketch, amount=-ENL_V_MAT_EXTRU_1_REACH, mode=Mode.PRIVATE) & part.part
    add(enl_v_mat_extru_1_tool1.solids().sort_by_distance((0, -2, -91.5))[0], mode=Mode.SUBTRACT)

    # Esquisse7 → Enlèv. mat.-Extru.1 direction 2 (cut, up to next)
    with BuildSketch(Plane(origin=(0, 0, 0), x_dir=(0, 0, -1), z_dir=(1, 0, 0)), mode=Mode.PRIVATE) as enl_v_mat_extru_1_direction_2_sk1:
        Polygon((5, 1.45e-15), (178, 0), (178, -4.0000000000000036), (5.000000000000001, -4), align=None)
    enl_v_mat_extru_1_direction_2_tool1 = extrude(enl_v_mat_extru_1_direction_2_sk1.sketch, amount=ENL_V_MAT_EXTRU_1_DIRECTION_2_REACH, mode=Mode.PRIVATE) & part.part
    add(enl_v_mat_extru_1_direction_2_tool1.solids().sort_by_distance((0, -2, -91.5))[0], mode=Mode.SUBTRACT)

    # Esquisse8 → Enlèv. mat.-Extru.2 (cut, up to next)
    with BuildSketch(Plane(origin=(75, 0, 0), x_dir=(0, 0, -1), z_dir=(1, 0, 0)), mode=Mode.PRIVATE) as enl_v_mat_extru_2_sk1:
        Polygon((5.000000000000004, 0), (2.3935492543175814, -2), (5.000000000000004, -4), align=None)
    enl_v_mat_extru_2_tool1 = extrude(enl_v_mat_extru_2_sk1.sketch, amount=-ENL_V_MAT_EXTRU_2_REACH, mode=Mode.PRIVATE) & part.part
    add(enl_v_mat_extru_2_tool1.solids().sort_by_distance((75, -2, -4.131183))[0], mode=Mode.SUBTRACT)


solid = part.part
